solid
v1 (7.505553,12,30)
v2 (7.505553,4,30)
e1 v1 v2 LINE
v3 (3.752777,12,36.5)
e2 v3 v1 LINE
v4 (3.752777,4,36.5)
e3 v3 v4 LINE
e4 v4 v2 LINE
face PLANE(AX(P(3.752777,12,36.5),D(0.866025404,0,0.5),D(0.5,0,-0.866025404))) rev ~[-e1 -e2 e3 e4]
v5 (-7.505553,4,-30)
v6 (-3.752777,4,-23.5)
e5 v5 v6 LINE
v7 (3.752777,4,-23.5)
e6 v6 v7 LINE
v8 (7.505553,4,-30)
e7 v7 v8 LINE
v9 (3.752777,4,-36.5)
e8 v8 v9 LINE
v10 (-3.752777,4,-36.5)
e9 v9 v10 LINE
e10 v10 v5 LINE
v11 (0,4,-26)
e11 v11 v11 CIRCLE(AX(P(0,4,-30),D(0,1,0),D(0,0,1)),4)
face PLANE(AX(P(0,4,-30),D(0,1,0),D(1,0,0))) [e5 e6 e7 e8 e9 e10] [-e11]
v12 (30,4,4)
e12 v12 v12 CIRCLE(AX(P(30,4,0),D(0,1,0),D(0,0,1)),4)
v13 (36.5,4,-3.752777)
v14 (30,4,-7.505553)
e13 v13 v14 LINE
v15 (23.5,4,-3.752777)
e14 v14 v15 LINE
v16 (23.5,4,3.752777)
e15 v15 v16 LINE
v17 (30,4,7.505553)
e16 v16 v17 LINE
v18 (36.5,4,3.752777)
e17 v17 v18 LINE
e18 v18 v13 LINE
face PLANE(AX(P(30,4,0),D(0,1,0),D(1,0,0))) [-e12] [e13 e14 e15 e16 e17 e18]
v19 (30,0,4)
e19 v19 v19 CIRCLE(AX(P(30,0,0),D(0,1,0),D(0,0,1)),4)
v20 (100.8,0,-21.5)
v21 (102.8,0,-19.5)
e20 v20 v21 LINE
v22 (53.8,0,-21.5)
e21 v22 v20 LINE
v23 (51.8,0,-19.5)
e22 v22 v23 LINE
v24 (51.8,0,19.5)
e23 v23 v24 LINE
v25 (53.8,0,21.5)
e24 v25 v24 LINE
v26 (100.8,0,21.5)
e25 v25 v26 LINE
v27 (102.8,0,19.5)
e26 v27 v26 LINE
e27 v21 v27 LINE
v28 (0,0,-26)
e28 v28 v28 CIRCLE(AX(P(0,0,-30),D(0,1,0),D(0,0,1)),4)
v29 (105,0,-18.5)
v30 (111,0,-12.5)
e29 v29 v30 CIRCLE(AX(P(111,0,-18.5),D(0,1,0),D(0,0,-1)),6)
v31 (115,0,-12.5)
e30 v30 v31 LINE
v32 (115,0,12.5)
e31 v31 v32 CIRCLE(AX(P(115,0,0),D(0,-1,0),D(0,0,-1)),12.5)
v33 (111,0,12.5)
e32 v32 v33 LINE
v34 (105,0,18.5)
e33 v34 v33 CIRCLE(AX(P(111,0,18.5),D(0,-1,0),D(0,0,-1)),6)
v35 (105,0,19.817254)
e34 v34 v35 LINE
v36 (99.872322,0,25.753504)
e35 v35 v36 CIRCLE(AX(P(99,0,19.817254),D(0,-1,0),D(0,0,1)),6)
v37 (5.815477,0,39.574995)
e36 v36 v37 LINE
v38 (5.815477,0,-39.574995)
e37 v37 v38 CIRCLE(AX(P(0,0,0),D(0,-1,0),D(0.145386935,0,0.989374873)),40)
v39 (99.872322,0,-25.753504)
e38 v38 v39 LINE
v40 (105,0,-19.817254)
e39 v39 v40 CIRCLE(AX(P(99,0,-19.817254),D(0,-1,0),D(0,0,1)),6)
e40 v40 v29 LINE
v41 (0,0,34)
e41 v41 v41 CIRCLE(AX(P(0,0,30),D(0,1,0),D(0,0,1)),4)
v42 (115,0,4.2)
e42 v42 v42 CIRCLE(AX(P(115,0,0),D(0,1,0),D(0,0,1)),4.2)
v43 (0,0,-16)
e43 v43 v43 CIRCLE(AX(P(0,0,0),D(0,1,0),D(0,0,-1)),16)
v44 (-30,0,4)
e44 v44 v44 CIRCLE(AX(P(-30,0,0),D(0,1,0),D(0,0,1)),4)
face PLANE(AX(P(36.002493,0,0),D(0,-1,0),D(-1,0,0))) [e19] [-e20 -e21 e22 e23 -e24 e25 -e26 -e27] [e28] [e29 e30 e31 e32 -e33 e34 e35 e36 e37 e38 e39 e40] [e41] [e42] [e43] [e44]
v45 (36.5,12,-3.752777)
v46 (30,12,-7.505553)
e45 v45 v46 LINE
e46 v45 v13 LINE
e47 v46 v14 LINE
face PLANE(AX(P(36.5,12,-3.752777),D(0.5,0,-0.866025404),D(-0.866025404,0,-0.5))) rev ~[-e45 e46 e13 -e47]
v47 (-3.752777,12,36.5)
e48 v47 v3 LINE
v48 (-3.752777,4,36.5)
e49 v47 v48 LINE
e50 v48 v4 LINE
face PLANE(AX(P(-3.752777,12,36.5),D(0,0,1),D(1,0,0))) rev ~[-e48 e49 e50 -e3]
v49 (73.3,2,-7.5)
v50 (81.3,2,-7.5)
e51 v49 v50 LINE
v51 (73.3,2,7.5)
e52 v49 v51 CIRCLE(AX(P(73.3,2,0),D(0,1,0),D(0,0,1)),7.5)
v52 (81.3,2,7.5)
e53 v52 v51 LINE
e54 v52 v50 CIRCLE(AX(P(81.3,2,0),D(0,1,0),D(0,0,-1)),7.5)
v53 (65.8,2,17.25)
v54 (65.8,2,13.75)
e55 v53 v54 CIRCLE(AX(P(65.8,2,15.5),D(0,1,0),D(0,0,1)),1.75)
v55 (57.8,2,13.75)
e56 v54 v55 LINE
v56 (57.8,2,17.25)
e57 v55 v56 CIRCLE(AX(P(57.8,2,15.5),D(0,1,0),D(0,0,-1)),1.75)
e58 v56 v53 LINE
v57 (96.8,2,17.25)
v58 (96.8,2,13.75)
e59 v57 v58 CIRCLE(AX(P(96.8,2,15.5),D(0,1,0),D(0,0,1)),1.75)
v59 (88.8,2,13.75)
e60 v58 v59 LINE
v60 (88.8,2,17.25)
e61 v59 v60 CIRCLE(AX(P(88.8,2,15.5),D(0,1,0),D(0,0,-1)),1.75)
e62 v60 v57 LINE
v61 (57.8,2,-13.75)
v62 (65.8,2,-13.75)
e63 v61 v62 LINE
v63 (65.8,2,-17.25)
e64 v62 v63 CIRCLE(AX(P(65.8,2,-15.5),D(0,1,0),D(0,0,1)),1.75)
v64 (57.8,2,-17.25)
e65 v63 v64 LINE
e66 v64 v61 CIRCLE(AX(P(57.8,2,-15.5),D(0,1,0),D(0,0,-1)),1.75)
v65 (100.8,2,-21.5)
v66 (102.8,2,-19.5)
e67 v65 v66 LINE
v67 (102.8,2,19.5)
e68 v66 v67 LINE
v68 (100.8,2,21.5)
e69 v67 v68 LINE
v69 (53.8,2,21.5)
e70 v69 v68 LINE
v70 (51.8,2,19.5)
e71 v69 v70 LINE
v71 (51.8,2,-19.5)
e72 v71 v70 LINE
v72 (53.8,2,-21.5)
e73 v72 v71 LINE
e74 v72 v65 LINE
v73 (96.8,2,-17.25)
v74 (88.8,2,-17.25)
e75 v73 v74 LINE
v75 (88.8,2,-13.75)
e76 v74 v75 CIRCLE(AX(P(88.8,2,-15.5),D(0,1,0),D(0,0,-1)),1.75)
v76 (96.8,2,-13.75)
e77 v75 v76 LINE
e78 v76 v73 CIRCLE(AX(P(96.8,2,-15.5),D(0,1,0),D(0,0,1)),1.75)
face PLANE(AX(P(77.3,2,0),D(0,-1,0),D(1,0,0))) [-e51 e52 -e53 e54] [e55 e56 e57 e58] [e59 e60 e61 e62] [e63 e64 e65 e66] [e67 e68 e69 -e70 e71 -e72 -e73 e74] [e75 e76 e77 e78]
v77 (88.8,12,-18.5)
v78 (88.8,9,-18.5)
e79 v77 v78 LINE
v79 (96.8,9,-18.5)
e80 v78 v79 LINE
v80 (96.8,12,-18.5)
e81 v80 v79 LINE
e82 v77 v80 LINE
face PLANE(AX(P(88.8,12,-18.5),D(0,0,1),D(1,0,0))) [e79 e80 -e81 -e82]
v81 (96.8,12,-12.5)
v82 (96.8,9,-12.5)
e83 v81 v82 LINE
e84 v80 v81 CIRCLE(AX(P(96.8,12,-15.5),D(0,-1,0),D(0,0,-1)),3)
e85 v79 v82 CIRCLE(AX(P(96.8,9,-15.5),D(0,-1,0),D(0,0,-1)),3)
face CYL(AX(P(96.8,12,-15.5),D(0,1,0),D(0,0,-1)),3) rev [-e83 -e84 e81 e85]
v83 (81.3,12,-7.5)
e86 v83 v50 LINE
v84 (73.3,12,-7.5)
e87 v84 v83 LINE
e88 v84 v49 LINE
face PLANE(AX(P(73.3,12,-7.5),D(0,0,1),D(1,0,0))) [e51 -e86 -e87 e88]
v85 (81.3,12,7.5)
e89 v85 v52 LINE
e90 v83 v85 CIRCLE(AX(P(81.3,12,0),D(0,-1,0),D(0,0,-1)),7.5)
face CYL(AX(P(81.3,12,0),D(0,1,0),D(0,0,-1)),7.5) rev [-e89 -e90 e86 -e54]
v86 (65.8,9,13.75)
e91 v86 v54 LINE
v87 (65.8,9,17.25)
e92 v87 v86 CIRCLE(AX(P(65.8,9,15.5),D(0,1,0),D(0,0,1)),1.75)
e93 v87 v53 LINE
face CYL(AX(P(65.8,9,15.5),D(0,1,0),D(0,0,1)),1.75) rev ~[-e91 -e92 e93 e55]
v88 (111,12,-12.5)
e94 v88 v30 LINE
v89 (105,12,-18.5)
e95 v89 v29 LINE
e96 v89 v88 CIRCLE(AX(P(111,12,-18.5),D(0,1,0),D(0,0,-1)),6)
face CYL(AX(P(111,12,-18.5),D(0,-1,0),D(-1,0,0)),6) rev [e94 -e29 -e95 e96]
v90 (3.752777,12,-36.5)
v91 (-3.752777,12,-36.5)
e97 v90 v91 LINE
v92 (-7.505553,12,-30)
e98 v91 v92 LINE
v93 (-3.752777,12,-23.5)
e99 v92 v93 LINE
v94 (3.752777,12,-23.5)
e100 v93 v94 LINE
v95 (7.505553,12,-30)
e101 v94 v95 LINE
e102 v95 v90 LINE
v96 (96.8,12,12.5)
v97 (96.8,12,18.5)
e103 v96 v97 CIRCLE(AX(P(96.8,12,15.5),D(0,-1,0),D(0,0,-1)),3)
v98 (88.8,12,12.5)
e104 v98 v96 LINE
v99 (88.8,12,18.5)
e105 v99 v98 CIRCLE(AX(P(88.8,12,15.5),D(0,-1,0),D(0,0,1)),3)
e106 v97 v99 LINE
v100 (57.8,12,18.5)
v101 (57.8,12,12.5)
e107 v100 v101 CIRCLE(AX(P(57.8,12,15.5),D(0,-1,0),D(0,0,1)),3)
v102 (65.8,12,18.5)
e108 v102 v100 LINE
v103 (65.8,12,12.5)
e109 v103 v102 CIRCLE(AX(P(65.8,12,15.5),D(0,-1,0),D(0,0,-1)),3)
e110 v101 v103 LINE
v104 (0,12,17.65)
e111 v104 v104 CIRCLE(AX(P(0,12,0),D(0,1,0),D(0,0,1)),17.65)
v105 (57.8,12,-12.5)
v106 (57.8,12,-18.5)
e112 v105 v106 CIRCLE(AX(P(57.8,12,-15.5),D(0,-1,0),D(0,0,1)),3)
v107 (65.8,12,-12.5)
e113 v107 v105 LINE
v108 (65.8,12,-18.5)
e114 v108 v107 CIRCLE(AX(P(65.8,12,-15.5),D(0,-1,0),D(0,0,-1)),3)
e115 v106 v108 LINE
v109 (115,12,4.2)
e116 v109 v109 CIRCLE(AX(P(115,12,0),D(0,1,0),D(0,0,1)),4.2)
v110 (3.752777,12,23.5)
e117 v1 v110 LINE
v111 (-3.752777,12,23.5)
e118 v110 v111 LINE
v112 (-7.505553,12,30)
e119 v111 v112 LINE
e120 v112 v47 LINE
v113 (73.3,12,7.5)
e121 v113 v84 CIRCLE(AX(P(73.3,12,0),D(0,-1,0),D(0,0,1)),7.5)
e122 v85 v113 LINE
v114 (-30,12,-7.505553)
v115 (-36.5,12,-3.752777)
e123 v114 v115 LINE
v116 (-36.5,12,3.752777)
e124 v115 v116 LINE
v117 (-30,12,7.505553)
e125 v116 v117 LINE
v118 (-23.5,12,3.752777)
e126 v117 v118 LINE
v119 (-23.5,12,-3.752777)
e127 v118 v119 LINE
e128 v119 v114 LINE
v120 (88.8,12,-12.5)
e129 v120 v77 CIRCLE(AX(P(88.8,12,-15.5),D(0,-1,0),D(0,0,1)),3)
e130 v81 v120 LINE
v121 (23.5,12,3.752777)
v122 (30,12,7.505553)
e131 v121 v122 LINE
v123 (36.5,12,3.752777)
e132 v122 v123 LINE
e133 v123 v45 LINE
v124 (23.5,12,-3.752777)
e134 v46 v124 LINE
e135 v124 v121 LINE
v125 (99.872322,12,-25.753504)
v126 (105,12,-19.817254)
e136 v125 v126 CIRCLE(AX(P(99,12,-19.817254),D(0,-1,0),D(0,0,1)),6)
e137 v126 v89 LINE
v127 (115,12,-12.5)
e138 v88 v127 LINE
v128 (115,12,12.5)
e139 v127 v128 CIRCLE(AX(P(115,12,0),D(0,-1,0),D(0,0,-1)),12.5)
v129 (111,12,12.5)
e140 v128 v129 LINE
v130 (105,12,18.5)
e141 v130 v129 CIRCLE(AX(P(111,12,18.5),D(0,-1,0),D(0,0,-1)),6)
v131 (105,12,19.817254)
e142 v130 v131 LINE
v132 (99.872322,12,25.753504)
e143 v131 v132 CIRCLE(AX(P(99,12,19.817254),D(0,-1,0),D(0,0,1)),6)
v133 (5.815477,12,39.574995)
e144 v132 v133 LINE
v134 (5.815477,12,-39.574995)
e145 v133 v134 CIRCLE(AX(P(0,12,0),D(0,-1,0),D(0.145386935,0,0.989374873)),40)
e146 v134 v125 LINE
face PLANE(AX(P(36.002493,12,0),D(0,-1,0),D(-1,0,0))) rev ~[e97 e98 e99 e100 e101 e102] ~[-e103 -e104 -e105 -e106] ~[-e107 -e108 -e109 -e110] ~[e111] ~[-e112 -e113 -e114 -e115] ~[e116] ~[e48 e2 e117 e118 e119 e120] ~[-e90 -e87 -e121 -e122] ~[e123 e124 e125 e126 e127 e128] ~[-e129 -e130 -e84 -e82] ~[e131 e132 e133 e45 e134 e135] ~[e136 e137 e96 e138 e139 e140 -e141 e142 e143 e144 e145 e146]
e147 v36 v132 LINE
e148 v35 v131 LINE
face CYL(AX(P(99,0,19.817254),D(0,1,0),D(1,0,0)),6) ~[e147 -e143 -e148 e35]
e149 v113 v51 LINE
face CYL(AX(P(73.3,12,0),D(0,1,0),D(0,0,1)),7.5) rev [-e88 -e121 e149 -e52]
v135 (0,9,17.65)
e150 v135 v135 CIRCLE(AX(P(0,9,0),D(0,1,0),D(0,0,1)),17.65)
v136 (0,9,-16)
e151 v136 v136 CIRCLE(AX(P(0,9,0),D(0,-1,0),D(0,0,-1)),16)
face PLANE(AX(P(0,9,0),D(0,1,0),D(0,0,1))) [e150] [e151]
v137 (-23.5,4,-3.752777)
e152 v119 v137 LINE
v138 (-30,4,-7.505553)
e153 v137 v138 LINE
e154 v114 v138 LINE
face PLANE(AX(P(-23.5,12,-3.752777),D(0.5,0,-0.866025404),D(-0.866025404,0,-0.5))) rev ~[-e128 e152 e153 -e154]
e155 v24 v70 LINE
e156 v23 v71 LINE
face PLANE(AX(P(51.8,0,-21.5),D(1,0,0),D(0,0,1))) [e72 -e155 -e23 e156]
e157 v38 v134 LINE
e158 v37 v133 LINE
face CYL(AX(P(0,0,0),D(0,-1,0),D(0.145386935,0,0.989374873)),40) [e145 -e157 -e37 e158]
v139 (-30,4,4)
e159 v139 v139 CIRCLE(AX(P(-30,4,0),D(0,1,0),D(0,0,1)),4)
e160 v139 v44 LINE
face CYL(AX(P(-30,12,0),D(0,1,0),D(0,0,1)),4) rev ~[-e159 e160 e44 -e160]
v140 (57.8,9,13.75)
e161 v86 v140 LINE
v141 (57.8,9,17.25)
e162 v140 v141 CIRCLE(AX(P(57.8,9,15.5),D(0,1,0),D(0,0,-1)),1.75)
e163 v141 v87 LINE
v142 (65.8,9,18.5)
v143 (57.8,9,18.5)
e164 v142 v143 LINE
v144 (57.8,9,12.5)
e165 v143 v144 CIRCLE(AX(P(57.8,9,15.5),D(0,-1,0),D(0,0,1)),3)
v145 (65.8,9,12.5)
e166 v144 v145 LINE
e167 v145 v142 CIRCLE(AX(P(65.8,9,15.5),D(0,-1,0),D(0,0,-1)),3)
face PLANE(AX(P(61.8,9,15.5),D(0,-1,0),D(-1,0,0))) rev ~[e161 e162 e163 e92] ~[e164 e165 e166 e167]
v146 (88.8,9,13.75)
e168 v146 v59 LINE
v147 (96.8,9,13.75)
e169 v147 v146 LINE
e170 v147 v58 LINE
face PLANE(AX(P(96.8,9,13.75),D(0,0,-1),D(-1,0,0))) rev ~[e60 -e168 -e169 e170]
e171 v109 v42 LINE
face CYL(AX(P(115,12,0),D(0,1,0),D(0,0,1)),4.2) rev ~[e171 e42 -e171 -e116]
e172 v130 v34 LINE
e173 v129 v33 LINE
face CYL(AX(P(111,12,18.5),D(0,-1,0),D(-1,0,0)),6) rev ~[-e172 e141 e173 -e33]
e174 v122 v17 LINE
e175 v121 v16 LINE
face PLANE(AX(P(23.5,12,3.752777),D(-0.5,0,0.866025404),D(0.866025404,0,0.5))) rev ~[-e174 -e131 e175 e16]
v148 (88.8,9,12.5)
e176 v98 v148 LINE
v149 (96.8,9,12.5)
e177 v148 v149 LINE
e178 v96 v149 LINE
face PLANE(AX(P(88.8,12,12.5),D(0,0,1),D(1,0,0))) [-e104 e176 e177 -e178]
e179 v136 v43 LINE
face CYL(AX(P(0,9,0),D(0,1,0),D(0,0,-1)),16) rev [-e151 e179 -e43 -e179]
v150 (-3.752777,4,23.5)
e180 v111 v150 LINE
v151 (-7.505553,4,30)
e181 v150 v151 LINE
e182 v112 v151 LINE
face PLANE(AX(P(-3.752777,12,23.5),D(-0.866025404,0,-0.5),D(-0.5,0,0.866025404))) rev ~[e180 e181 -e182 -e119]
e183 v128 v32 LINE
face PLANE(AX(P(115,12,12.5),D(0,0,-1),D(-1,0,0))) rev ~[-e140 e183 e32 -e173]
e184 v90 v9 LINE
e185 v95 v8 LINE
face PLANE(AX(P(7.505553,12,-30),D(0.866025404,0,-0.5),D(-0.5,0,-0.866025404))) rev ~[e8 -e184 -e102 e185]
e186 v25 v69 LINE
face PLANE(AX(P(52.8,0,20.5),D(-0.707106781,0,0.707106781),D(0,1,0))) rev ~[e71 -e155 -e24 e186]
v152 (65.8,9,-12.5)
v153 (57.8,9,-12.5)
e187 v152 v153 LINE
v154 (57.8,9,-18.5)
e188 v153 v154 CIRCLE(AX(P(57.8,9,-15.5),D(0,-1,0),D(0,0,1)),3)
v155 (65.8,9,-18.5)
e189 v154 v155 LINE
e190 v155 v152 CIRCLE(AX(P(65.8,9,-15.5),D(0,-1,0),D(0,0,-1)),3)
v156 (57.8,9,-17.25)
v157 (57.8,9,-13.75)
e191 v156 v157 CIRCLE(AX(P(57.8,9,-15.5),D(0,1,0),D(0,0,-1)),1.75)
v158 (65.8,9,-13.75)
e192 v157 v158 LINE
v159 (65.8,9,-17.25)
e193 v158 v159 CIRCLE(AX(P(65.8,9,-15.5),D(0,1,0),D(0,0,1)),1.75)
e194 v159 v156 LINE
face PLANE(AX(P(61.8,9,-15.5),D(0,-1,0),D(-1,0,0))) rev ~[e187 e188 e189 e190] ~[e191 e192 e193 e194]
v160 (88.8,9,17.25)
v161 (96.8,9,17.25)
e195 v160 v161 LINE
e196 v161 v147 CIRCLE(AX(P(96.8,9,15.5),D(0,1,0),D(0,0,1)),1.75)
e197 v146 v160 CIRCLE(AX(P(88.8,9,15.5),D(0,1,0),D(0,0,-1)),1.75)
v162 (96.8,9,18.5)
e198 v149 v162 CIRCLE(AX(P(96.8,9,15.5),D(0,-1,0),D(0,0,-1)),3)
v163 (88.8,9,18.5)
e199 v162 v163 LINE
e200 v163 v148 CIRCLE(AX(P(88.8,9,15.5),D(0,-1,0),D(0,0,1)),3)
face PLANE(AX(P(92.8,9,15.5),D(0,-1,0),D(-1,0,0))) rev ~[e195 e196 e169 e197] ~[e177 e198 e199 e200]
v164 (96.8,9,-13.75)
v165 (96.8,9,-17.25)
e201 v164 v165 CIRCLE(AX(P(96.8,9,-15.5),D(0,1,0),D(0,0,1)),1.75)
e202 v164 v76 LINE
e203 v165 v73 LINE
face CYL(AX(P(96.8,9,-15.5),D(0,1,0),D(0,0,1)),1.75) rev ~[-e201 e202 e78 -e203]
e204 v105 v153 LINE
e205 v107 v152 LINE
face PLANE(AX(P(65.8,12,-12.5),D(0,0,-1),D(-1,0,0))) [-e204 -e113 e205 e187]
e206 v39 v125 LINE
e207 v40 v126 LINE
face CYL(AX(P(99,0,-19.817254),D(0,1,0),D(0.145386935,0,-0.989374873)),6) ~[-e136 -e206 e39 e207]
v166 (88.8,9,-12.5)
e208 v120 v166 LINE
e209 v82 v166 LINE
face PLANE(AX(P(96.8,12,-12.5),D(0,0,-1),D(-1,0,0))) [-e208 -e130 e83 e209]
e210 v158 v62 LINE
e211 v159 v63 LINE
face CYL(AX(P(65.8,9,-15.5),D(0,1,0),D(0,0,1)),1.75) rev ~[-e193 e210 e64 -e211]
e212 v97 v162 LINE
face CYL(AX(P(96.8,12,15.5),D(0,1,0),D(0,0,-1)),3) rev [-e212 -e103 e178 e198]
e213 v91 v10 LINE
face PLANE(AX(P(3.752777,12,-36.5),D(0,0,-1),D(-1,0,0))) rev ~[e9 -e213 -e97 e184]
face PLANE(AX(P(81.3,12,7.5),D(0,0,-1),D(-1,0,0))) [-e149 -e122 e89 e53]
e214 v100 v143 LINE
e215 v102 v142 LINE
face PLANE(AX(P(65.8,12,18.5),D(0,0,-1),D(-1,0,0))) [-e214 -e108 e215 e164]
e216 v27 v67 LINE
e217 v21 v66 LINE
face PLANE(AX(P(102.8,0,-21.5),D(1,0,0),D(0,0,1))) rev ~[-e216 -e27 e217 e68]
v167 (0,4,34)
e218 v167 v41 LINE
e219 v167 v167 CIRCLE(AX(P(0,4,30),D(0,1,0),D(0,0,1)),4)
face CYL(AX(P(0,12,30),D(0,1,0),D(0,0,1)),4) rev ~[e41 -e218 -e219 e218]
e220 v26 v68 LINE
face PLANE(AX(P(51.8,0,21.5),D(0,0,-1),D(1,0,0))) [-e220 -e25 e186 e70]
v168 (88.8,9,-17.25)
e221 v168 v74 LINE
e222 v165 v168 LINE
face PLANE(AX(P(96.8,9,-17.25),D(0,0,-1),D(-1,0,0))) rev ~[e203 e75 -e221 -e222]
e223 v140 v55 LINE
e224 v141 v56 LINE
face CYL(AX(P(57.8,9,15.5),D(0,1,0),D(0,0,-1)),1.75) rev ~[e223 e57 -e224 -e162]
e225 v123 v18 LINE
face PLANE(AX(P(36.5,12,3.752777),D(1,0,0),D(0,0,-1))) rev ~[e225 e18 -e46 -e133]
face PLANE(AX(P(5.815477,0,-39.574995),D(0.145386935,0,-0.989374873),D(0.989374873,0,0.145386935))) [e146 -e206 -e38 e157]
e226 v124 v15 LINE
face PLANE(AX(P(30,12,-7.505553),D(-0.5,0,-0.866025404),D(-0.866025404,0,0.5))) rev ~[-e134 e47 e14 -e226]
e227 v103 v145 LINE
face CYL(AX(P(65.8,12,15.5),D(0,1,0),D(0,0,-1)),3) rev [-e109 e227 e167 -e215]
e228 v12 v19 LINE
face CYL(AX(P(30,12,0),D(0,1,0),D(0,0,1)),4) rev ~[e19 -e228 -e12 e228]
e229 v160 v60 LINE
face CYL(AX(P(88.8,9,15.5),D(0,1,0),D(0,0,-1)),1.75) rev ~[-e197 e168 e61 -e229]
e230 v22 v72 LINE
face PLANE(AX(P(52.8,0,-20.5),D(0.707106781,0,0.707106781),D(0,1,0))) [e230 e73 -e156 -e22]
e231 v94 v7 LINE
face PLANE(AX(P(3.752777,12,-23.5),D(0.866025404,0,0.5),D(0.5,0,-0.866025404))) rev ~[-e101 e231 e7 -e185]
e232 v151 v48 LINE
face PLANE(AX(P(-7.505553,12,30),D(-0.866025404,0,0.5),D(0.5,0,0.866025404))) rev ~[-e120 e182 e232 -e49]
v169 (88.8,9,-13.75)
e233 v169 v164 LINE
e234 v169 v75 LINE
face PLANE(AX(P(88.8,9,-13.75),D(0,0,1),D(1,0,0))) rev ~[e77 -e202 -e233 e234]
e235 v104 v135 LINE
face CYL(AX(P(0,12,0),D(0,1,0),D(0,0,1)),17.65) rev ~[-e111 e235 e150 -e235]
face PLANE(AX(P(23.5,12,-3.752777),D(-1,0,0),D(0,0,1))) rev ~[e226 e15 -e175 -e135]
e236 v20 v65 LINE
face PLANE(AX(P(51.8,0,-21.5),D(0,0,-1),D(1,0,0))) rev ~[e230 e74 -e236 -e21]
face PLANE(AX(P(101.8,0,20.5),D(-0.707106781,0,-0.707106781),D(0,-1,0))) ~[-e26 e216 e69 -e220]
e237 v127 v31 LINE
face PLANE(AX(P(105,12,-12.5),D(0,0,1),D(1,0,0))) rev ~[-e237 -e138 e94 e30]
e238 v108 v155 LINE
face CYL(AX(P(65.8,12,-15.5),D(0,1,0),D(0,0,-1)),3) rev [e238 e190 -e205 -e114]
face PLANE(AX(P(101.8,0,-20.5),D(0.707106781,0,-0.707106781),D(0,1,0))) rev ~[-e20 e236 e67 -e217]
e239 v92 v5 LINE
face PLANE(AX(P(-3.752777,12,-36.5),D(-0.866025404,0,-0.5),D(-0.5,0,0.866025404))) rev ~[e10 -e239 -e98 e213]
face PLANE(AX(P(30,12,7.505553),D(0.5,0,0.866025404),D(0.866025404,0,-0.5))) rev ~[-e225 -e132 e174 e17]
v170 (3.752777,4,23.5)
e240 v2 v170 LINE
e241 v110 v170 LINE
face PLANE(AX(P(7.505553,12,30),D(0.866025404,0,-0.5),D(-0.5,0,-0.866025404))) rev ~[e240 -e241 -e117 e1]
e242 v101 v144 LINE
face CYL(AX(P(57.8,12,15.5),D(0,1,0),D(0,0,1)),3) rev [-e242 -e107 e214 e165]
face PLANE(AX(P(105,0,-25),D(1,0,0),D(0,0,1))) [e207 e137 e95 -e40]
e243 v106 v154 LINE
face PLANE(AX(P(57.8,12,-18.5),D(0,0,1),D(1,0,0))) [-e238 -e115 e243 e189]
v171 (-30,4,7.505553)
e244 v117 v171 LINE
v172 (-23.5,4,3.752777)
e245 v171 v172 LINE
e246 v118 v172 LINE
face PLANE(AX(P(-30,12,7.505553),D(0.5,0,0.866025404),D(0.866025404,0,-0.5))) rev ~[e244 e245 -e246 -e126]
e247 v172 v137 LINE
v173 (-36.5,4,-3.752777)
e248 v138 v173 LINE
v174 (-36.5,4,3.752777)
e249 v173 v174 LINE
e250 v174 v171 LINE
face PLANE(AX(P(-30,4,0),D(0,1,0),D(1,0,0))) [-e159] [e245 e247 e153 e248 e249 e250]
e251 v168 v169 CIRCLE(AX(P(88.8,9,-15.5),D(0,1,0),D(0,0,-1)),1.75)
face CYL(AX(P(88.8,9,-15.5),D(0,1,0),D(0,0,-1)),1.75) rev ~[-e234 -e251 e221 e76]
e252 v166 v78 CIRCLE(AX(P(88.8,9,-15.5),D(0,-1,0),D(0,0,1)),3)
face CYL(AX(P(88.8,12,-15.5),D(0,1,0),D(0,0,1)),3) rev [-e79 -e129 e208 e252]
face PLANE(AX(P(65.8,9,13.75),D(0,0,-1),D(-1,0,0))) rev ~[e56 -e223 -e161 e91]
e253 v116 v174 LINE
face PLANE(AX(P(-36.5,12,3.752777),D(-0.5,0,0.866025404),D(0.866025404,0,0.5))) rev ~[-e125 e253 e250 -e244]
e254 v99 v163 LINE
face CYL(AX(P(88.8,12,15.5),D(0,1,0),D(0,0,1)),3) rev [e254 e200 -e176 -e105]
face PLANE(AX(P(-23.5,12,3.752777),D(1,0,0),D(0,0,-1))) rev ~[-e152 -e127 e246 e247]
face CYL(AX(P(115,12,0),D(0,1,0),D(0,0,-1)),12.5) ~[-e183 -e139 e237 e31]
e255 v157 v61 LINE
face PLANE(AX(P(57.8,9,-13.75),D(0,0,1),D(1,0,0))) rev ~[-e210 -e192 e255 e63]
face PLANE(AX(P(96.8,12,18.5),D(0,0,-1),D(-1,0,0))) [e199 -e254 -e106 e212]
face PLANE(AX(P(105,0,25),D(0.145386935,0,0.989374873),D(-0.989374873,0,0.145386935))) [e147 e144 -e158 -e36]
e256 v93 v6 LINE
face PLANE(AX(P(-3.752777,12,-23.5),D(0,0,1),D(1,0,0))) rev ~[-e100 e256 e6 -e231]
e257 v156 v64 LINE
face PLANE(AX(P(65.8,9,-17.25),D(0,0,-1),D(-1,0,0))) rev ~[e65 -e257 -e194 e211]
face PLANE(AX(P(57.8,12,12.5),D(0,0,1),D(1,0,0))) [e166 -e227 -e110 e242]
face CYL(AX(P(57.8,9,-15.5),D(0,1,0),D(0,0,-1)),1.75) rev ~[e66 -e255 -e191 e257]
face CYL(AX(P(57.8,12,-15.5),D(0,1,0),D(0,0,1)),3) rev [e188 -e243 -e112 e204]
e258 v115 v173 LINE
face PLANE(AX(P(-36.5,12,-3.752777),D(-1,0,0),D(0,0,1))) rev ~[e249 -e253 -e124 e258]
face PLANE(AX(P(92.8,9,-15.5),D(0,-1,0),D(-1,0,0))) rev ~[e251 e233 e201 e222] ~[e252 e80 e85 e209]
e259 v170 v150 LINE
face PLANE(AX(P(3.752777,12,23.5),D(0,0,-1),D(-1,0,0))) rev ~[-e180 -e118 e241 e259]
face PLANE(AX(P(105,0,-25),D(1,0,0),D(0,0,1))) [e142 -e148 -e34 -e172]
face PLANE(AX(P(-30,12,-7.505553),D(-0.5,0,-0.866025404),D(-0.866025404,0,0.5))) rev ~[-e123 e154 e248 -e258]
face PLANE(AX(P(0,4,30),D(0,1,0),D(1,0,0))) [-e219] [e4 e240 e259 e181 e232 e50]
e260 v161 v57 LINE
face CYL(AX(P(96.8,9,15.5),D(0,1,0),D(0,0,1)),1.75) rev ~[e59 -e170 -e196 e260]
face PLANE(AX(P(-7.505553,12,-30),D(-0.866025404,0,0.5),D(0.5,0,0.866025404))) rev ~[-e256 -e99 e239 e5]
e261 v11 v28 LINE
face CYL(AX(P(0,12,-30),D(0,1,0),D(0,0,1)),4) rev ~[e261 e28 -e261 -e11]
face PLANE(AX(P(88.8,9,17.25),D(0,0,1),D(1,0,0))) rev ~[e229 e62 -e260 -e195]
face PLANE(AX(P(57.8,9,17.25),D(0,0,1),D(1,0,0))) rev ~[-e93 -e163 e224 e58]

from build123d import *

# Parameters (mm, degrees)
SKETCH1_R           = 10
BOSS_EXTRUDE1_DEPTH = 12
SKETCH2_R           = 17.65
CUT_EXTRUDE1_DEPTH  = 3
CUT_EXTRUDE2_DEPTH  = 12
SKETCH4_R           = 4
CUT_EXTRUDE3_DEPTH  = 12
SKETCH5_R           = 16
CUT_EXTRUDE4_DEPTH  = 113.720894248
SKETCH6_W           = 51
SKETCH6_H           = 43
CUT_EXTRUDE5_DEPTH  = 2
CHAMFER1_SIZE       = 2
CUT_EXTRUDE6_DEPTH  = 8
CUT_EXTRUDE7_DEPTH  = 3
CUT_EXTRUDE8_DEPTH  = 7
SKETCH11_R          = 4.2
BOSS_EXTRUDE2_DEPTH = 12
FILLET1_R           = 6


with BuildPart() as part:
    # Sketch1 → Boss-Extrude1 (new body)
    with BuildSketch(Plane(origin=(0, 0, 0), x_dir=(1, 0, 0), z_dir=(0, 1, 0))):
        with BuildLine():
            Line((5.815477401, 39.574994916), (105, 25))
            Line((105, 25), (105, -25))
            Line((105, -25), (5.815477401, -39.574994916))
            ThreePointArc((5.815477401, -39.574994916), (-40, 0), (5.815477401, 39.574994916))
        make_face()
        with Locations(Location((0, 0, 0), (0, 0, 270))):
            Circle(SKETCH1_R, mode=Mode.SUBTRACT)
    extrude(amount=BOSS_EXTRUDE1_DEPTH)

    # Sketch2 → Cut-Extrude1 (cut)
    with BuildSketch(Plane(origin=(0, 12, 0), x_dir=(1, 0, 0), z_dir=(0, 1, 0))):
        with Locations(Location((0, 0, 0), (0, 0, 270))):
            Circle(SKETCH2_R)
    extrude(amount=-CUT_EXTRUDE1_DEPTH, mode=Mode.SUBTRACT)

    # Sketch3 → Cut-Extrude2 (cut)
    with BuildSketch(Plane(origin=(0, 12, 0), x_dir=(1, 0, 0), z_dir=(0, 1, 0))):
        with BuildLine():
            Line((73.3, 7.5), (81.3, 7.5))
            ThreePointArc((81.3, 7.5), (88.8, 0), (81.3, -7.5))
            Line((81.3, -7.5), (73.3, -7.5))
            ThreePointArc((73.3, -7.5), (65.8, 0), (73.3, 7.5))
        make_face()
    extrude(amount=-CUT_EXTRUDE2_DEPTH, mode=Mode.SUBTRACT)

    # Sketch4 → Cut-Extrude3 (cut)
    with BuildSketch(Plane(origin=(0, 12, 0), x_dir=(1, 0, 0), z_dir=(0, 1, 0))):
        with Locations(Location((30, 0, 0), (0, 0, 270))):
            Circle(SKETCH4_R)
        with Locations(Location((0, -30, 0), (0, 0, 270))):
            Circle(SKETCH4_R)
        with Locations(Location((-30, 0, 0), (0, 0, 270))):
            Circle(SKETCH4_R)
        with Locations(Location((0, 30, 0), (0, 0, 270))):
            Circle(SKETCH4_R)
    extrude(amount=-CUT_EXTRUDE3_DEPTH, mode=Mode.SUBTRACT)

    # Sketch5 → Cut-Extrude4 (cut, through all)
    with BuildSketch(Plane.XZ.offset(-9)):
        with Locations(Location((0, 0, 0), (0, 0, 270))):
            Circle(SKETCH5_R)
    extrude(amount=CUT_EXTRUDE4_DEPTH, mode=Mode.SUBTRACT)

    # Sketch6 → Cut-Extrude5 (cut)
    with BuildSketch(Plane.XZ):
        with Locations((77.3, 0)):
            Rectangle(SKETCH6_W, SKETCH6_H)
    extrude(amount=-CUT_EXTRUDE5_DEPTH, mode=Mode.SUBTRACT)

    # Chamfer1
    chamfer1_edges = [part.edges().sort_by_distance(p)[0] for p in [
        (102.8, 1, 21.5),
        (102.8, 1, -21.5),
        (51.8, 1, -21.5),
        (51.8, 1, 21.5),
    ]]
    chamfer(chamfer1_edges, length=CHAMFER1_SIZE)

    # Sketch7 → Cut-Extrude6 (cut)
    with BuildSketch(Plane(origin=(0, 12, 0), x_dir=(1, 0, 0), z_dir=(0, 1, 0))):
        Polygon((-7.505553499, 30), (-3.75277675, 23.5), (3.75277675, 23.5), (7.505553499, 30), (3.75277675, 36.5), (-3.75277675, 36.5), align=None)
        Polygon((-30, -7.505553499), (-23.5, -3.75277675), (-23.5, 3.75277675), (-30, 7.505553499), (-36.5, 3.75277675), (-36.5, -3.75277675), align=None)
        Polygon((30, 7.505553499), (23.5, 3.75277675), (23.5, -3.75277675), (30, -7.505553499), (36.5, -3.75277675), (36.5, 3.75277675), align=None)
        Polygon((7.505553499, -30), (3.75277675, -23.5), (-3.75277675, -23.5), (-7.505553499, -30), (-3.75277675, -36.5), (3.75277675, -36.5), align=None)
    extrude(amount=-CUT_EXTRUDE6_DEPTH, mode=Mode.SUBTRACT)

    # Sketch9 → Cut-Extrude7 (cut)
    with BuildSketch(Plane(origin=(0, 12, 0), x_dir=(1, 0, 0), z_dir=(0, 1, 0))):
        with BuildLine():
            Line((57.8, 18.5), (65.8, 18.5))
            ThreePointArc((65.8, 18.5), (68.8, 15.5), (65.8, 12.5))
            Line((65.8, 12.5), (57.8, 12.5))
            ThreePointArc((57.8, 12.5), (54.8, 15.5), (57.8, 18.5))
        make_face()
        with BuildLine():
            Line((88.8, 18.5), (96.8, 18.5))
            ThreePointArc((96.8, 18.5), (99.8, 15.5), (96.8, 12.5))
            Line((96.8, 12.5), (88.8, 12.5))
            ThreePointArc((88.8, 12.5), (85.8, 15.5), (88.8, 18.5))
        make_face()
        with BuildLine():
            Line((57.8, -12.5), (65.8, -12.5))
            ThreePointArc((65.8, -12.5), (68.8, -15.5), (65.8, -18.5))
            Line((65.8, -18.5), (57.8, -18.5))
            ThreePointArc((57.8, -18.5), (54.8, -15.5), (57.8, -12.5))
        make_face()
        with BuildLine():
            Line((88.8, -12.5), (96.8, -12.5))
            ThreePointArc((96.8, -12.5), (99.8, -15.5), (96.8, -18.5))
            Line((96.8, -18.5), (88.8, -18.5))
            ThreePointArc((88.8, -18.5), (85.8, -15.5), (88.8, -12.5))
        make_face()
    extrude(amount=-CUT_EXTRUDE7_DEPTH, mode=Mode.SUBTRACT)

    # Sketch10 → Cut-Extrude8 (cut)
    with BuildSketch(Plane(origin=(0, 9, 0), x_dir=(1, 0, 0), z_dir=(0, 1, 0))):
        with BuildLine():
            Line((57.8, 13.75), (65.8, 13.75))
            ThreePointArc((65.8, 13.75), (67.55, 15.5), (65.8, 17.25))
            Line((65.8, 17.25), (57.8, 17.25))
            ThreePointArc((57.8, 17.25), (56.05, 15.5), (57.8, 13.75))
        make_face()
        with BuildLine():
            Line((88.8, 13.75), (96.8, 13.75))
            ThreePointArc((96.8, 13.75), (98.55, 15.5), (96.8, 17.25))
            Line((96.8, 17.25), (88.8, 17.25))
            ThreePointArc((88.8, 17.25), (87.05, 15.5), (88.8, 13.75))
        make_face()
        with BuildLine():
            Line((57.8, -17.25), (65.8, -17.25))
            ThreePointArc((65.8, -17.25), (67.55, -15.5), (65.8, -13.75))
            Line((65.8, -13.75), (57.8, -13.75))
            ThreePointArc((57.8, -13.75), (56.05, -15.5), (57.8, -17.25))
        make_face()
        with BuildLine():
            Line((88.8, -17.25), (96.8, -17.25))
            ThreePointArc((96.8, -17.25), (98.55, -15.5), (96.8, -13.75))
            Line((96.8, -13.75), (88.8, -13.75))
            ThreePointArc((88.8, -13.75), (87.05, -15.5), (88.8, -17.25))
        make_face()
    extrude(amount=-CUT_EXTRUDE8_DEPTH, mode=Mode.SUBTRACT)

    # Sketch11 → Boss-Extrude2 (add)
    with BuildSketch(Plane(origin=(0, 12, 0), x_dir=(1, 0, 0), z_dir=(0, 1, 0))):
        with BuildLine():
            Line((105, -12.5), (105, 12.5))
            Line((105, 12.5), (115, 12.5))
            ThreePointArc((115, 12.5), (127.5, 0), (115, -12.5))
            Line((115, -12.5), (105, -12.5))
        make_face()
        with Locations(Location((115, 0, 0), (0, 0, 270))):
            Circle(SKETCH11_R, mode=Mode.SUBTRACT)
    extrude(amount=-BOSS_EXTRUDE2_DEPTH)

    # Fillet1
    fillet1_edges = [part.edges().sort_by_distance(p)[0] for p in [
        (105, 6, -12.5),
        (105, 6, 12.5),
        (105, 6, -25),
        (105, 6, 25),
    ]]
    fillet(fillet1_edges, radius=FILLET1_R)


solid = part.part
